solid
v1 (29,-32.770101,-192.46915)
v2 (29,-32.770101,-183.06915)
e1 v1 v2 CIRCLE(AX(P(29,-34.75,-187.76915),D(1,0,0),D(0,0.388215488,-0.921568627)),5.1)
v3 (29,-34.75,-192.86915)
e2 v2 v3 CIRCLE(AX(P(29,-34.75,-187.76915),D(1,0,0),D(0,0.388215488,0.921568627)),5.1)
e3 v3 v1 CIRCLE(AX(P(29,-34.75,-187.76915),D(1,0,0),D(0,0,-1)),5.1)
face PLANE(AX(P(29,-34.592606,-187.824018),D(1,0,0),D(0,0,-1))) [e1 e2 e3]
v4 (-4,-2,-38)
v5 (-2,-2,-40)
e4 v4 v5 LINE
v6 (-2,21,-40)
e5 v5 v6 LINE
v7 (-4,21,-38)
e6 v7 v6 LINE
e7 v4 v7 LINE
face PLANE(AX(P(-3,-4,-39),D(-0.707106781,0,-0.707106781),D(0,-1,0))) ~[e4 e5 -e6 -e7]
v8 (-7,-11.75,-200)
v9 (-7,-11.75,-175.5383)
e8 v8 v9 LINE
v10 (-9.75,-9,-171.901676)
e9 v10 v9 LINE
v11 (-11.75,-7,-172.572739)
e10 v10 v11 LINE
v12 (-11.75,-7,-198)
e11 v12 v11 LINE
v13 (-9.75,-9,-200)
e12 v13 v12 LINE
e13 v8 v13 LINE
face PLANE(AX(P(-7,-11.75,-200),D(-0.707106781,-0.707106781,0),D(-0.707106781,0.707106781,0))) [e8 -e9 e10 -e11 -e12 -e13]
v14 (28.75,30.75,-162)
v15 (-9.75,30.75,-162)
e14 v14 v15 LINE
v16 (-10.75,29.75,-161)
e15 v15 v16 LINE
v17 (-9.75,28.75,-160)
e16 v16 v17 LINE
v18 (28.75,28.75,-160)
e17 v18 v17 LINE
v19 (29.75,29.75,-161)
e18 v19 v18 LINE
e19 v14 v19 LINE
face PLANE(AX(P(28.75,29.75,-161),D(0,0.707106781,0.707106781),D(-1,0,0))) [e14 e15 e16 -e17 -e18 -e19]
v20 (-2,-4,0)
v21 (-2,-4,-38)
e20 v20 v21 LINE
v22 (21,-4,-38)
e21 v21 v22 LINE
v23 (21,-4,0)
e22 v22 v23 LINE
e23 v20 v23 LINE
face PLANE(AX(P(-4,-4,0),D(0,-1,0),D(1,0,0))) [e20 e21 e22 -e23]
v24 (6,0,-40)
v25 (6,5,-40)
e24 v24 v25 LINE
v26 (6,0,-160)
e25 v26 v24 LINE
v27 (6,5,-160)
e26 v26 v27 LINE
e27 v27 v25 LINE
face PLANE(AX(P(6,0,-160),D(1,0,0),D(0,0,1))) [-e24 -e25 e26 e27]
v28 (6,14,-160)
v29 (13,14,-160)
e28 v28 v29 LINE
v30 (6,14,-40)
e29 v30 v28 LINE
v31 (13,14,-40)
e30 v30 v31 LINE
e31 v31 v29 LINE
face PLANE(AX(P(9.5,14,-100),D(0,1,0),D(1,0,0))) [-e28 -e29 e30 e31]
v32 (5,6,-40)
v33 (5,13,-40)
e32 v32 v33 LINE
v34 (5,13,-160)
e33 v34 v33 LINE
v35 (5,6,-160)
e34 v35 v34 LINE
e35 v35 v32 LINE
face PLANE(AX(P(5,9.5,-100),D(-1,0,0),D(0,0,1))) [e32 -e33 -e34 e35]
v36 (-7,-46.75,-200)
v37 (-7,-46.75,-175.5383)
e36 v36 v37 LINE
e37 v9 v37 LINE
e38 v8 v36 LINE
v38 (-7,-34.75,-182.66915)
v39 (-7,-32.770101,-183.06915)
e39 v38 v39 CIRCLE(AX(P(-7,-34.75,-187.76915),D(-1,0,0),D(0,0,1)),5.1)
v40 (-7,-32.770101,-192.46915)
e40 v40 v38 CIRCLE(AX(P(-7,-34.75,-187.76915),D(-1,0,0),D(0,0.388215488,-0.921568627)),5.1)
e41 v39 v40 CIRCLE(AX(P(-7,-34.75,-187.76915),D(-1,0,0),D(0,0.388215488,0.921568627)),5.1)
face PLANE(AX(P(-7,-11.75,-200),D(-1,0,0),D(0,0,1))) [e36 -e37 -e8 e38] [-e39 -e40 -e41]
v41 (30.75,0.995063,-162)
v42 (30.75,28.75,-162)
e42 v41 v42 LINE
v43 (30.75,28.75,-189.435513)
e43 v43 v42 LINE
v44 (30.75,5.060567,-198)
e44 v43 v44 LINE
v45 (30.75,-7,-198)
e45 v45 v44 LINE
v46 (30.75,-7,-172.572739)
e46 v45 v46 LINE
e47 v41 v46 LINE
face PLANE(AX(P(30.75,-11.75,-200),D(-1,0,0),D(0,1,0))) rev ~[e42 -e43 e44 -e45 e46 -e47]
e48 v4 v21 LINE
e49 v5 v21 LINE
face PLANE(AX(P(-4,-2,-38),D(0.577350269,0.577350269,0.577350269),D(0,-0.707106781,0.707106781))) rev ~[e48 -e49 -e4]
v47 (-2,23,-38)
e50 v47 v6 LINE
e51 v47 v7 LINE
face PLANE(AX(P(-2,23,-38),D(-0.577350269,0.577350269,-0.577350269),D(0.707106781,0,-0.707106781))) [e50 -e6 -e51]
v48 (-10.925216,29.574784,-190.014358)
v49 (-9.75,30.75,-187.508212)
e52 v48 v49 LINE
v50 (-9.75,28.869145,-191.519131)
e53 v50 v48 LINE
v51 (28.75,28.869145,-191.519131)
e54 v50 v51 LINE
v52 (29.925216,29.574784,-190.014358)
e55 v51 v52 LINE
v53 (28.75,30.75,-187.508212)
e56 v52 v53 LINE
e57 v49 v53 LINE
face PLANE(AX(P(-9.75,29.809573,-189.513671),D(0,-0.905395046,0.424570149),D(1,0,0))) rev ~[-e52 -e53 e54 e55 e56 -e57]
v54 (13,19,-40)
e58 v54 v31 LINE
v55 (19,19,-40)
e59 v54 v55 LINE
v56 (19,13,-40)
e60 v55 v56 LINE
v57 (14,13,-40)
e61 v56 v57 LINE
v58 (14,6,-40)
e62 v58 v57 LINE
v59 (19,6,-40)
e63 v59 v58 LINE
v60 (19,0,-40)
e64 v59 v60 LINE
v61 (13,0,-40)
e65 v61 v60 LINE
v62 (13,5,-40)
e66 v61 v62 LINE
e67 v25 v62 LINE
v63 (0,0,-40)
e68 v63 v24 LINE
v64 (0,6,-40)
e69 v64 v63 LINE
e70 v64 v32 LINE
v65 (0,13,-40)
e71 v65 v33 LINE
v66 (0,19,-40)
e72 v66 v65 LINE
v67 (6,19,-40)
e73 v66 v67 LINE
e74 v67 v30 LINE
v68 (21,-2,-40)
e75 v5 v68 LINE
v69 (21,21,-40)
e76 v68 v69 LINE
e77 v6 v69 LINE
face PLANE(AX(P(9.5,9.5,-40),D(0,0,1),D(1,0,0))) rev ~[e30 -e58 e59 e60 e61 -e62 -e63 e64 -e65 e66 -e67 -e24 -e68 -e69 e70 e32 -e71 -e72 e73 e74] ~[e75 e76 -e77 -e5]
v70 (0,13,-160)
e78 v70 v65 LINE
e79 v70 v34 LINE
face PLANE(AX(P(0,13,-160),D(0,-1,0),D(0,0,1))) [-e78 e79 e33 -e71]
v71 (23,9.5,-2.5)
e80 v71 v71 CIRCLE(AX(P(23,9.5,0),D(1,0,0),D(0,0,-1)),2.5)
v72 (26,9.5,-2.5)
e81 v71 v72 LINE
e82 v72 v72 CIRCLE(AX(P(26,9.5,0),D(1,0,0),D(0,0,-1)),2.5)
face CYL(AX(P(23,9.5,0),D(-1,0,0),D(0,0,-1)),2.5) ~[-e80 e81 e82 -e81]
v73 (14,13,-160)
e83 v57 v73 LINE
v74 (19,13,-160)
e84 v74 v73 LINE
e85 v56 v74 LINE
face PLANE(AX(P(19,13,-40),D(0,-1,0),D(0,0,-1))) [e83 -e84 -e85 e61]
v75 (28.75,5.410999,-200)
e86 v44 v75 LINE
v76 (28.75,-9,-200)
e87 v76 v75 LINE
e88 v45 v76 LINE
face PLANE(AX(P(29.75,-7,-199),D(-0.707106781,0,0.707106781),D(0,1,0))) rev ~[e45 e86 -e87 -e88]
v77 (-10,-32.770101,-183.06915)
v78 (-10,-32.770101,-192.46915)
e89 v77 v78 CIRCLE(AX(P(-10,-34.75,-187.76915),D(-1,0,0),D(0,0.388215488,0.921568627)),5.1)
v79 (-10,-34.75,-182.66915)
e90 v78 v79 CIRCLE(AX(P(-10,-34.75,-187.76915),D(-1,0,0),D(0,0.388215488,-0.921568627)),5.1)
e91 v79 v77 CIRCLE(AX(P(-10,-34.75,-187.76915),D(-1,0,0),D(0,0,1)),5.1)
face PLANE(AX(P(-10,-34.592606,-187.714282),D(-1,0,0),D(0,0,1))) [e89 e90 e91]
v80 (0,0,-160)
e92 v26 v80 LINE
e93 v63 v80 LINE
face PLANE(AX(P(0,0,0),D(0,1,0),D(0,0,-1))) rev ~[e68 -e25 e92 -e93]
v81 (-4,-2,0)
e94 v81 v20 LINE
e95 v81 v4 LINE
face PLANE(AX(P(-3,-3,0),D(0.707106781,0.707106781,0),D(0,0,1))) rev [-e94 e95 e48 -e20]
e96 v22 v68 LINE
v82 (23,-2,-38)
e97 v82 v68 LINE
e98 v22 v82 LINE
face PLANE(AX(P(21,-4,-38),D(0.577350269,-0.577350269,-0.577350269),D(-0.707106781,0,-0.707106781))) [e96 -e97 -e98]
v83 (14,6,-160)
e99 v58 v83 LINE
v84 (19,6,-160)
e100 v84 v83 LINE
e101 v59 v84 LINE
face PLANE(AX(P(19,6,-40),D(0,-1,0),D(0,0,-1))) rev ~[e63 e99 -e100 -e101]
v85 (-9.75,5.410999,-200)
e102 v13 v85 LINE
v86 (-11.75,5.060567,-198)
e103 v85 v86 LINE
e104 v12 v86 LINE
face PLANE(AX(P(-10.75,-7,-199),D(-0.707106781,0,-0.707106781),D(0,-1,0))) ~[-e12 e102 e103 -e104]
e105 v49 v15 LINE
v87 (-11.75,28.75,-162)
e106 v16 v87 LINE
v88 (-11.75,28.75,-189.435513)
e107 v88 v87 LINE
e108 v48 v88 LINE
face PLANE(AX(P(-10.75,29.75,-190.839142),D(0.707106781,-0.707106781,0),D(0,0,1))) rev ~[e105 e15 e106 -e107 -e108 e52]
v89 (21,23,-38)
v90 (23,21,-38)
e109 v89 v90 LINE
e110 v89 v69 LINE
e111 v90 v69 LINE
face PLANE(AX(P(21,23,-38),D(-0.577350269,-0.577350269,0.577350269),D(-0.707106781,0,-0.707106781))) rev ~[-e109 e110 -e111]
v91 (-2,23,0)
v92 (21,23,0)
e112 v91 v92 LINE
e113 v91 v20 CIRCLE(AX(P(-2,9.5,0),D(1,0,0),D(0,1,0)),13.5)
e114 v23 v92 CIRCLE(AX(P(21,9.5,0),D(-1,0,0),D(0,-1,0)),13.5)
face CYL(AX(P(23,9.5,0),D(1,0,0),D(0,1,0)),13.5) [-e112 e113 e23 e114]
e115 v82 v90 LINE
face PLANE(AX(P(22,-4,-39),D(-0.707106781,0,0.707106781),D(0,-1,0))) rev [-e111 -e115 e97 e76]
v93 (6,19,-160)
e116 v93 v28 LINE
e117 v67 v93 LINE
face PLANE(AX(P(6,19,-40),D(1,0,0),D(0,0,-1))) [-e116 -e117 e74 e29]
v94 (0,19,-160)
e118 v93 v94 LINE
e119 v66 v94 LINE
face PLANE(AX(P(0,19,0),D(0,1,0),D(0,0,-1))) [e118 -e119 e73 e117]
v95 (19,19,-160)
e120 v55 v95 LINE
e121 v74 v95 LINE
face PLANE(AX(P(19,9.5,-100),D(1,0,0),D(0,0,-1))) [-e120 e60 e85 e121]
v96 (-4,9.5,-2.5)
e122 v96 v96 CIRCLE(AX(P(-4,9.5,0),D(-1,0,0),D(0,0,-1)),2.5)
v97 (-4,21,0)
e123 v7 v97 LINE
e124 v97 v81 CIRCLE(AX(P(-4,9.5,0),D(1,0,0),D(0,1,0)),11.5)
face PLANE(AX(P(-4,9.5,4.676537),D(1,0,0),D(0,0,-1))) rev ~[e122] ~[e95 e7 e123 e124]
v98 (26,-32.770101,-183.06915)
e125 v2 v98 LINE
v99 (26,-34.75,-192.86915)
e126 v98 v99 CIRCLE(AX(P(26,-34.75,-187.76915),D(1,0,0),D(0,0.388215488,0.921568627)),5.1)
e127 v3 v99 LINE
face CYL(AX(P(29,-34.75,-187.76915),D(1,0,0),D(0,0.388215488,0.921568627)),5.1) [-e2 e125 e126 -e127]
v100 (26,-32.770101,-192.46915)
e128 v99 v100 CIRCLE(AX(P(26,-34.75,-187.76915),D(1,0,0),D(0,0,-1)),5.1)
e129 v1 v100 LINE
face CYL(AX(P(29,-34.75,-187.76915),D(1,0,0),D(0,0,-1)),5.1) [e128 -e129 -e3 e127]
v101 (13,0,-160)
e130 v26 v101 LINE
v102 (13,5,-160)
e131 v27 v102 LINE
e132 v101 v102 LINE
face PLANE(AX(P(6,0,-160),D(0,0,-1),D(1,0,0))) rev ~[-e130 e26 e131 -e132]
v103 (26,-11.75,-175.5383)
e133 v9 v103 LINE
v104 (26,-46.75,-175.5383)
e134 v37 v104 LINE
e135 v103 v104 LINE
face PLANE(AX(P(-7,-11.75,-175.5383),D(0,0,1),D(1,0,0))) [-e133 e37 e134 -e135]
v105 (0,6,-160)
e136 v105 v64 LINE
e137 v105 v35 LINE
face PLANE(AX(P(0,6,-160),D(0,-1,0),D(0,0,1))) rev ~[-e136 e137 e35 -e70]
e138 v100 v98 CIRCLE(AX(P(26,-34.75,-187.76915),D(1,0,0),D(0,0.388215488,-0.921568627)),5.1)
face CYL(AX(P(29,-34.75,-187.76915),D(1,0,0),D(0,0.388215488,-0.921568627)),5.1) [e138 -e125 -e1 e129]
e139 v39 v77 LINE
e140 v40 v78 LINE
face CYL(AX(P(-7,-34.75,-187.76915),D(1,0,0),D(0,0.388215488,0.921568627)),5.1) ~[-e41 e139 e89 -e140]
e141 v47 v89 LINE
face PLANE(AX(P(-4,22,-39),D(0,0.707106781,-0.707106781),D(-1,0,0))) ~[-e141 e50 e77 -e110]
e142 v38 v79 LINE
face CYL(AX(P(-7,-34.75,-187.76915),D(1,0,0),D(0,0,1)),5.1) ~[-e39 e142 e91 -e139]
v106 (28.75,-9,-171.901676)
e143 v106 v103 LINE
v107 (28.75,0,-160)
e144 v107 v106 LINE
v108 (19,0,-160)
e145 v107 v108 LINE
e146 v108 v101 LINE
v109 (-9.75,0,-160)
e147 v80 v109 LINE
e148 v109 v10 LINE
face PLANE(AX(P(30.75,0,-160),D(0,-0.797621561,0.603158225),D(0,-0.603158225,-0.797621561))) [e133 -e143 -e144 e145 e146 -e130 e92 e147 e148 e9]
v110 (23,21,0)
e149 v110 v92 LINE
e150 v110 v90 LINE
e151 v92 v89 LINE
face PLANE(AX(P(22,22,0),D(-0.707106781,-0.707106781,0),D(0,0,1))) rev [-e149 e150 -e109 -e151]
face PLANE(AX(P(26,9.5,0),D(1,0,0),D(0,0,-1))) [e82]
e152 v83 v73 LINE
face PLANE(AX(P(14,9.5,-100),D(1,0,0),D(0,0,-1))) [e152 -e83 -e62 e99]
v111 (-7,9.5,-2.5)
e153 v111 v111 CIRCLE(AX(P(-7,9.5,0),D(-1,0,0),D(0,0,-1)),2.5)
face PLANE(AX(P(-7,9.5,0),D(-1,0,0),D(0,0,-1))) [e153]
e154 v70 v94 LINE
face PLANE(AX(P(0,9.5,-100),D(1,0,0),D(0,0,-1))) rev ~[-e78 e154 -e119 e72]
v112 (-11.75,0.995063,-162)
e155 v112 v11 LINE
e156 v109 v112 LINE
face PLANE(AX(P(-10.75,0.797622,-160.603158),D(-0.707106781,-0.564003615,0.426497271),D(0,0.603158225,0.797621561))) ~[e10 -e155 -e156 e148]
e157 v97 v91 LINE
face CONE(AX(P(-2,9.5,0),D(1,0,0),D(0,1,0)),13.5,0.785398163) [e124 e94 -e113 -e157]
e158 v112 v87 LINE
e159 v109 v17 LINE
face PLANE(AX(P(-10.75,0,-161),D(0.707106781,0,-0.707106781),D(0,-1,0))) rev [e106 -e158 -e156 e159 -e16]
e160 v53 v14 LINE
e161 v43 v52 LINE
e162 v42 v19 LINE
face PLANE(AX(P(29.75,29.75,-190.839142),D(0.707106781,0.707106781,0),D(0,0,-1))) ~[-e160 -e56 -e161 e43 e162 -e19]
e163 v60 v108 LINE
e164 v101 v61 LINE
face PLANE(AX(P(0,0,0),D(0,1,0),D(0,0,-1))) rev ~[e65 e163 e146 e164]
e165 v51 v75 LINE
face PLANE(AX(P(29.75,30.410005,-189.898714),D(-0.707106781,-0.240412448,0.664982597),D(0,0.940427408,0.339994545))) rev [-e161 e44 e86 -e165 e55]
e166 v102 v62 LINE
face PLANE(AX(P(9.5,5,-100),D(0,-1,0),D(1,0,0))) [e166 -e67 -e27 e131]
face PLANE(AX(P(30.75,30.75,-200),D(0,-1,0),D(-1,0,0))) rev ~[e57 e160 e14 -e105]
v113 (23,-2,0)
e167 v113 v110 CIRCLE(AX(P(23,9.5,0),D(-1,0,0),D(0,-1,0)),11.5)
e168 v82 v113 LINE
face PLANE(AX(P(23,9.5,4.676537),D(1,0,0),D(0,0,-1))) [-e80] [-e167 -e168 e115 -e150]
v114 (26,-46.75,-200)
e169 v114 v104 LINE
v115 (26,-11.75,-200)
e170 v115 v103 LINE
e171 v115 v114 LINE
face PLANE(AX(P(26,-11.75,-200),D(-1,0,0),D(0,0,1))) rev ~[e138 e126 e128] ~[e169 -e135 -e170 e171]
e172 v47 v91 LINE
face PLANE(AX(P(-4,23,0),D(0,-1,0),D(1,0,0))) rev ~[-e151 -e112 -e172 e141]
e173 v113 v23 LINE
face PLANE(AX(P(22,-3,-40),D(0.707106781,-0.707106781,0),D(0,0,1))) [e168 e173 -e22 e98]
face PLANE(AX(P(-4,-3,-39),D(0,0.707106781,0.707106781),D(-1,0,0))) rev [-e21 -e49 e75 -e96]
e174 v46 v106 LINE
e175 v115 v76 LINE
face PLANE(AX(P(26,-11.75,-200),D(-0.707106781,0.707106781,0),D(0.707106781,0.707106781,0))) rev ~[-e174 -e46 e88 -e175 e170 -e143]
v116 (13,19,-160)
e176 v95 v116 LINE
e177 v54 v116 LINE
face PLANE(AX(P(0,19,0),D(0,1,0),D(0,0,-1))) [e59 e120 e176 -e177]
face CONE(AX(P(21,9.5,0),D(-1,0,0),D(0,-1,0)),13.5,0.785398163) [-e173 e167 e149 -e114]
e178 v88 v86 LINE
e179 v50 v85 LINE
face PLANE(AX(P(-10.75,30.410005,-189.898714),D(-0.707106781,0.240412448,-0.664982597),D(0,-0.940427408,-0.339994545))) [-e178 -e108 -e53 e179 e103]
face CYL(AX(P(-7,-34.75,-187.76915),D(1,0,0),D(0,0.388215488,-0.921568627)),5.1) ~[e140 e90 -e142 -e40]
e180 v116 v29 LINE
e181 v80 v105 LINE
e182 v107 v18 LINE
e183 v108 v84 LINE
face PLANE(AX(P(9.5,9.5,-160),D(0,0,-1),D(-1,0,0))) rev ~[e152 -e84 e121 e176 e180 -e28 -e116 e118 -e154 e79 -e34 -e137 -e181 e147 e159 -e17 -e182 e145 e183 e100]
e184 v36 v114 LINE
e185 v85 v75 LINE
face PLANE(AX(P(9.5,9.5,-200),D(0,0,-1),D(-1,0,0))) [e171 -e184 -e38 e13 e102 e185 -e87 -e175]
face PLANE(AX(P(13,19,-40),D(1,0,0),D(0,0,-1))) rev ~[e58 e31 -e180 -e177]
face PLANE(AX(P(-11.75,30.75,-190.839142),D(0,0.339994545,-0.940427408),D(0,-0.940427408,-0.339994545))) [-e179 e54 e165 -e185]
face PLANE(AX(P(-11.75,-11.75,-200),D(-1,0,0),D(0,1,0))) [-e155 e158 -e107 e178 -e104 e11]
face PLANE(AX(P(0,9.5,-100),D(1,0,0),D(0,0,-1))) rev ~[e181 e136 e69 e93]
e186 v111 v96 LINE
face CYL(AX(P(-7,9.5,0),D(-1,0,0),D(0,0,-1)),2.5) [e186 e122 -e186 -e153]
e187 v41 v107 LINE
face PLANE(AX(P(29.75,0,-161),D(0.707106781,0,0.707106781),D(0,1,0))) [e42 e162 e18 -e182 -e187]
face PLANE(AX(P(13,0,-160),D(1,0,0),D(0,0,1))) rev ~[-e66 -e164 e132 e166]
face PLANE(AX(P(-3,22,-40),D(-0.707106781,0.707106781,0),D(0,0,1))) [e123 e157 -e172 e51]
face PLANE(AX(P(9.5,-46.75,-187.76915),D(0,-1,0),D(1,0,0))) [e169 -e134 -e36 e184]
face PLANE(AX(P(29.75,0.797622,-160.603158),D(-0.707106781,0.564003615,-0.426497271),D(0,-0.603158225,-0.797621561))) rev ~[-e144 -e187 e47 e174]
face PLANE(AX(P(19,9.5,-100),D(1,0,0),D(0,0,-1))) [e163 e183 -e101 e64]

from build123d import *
from OCP.BRepFilletAPI import BRepFilletAPI_MakeChamfer

# Parameters (mm, degrees)
SKETCH_1_W          = 200
SKETCH_1_H          = 19
EXTRUDE_1_DEPTH     = 19
SKETCH_6_W          = 27
SKETCH_6_H          = 27
EXTRUDE_6_DEPTH     = 40
EXTRUDE_7_DEPTH     = 27
SKETCH_8_W          = 42.5
SKETCH_8_H          = 42.5
EXTRUDE_8_DEPTH     = 40
SKETCH_9_R          = 2.5
EXTRUDE_9_DEPTH     = 3
EXTRUDE_START       = 3
SKETCH_10_R         = 2.5
EXTRUDE_10_DEPTH    = 3
SKETCH_11_W         = 33
SKETCH_11_H         = 24.461700173
EXTRUDE_11_DEPTH    = 35
CUT_EXTRUDE_1_REACH = 211.742
CUT_EXTRUDE_2_DEPTH = 42.5
CUT_EXTRUDE_3_REACH = 222.711
SKETCH_15_W         = 120
SKETCH_15_H         = 7
CUT_EXTRUDE_4_DEPTH = 5
SKETCH_16_W         = 120
SKETCH_16_H         = 7
CUT_EXTRUDE_5_DEPTH = 5
SKETCH_17_W         = 7
SKETCH_17_H         = 120
CUT_EXTRUDE_6_DEPTH = 5
SKETCH_18_W         = 7
SKETCH_18_H         = 120
CUT_EXTRUDE_7_DEPTH = 5
CHAMFER_1_SIZE      = 2
CHAMFER_2_SIZE      = 2
CHAMFER_3_SIZE      = 2
CHAMFER_3_SIZE2     = 3.330930275
CHAMFER_4_SIZE      = 2
BOSS_EXTRUDE1_DEPTH = 3
BOSS_EXTRUDE2_START = 3
BOSS_EXTRUDE2_DEPTH = 3


with BuildPart() as part:
    # 草图1 → 凸台-拉伸1 (new body)
    with BuildSketch(Plane(origin=(0, 0, 0), x_dir=(0, 0, -1), z_dir=(1, 0, 0))):
        with Locations((100, 9.5)):
            Rectangle(SKETCH_1_W, SKETCH_1_H)
    extrude(amount=EXTRUDE_1_DEPTH)

    # 草图6 → 凸台-拉伸6 (add)
    with BuildSketch(Plane.XY):
        with Locations((9.5, 9.5)):
            Rectangle(SKETCH_6_W, SKETCH_6_H)
    extrude(amount=-EXTRUDE_6_DEPTH)

    # 草图7 → 凸台-拉伸7 (add)
    with BuildSketch(Plane(origin=(23, 0, 0), x_dir=(0, 0, -1), z_dir=(1, 0, 0))):
        with BuildLine():
            Line((0, -4), (0, 23))
            ThreePointArc((0, 23), (-13.5, 9.5), (0, -4))
        make_face()
    extrude(amount=-EXTRUDE_7_DEPTH)

    # 草图8 → 凸台-拉伸8 (add)
    with BuildSketch(Plane(origin=(0, 0, -200), x_dir=(-1, 0, 0), z_dir=(0, 0, -1))):
        with Locations((-9.5, 9.5)):
            Rectangle(SKETCH_8_W, SKETCH_8_H)
    extrude(amount=-EXTRUDE_8_DEPTH)

    # 草图9 → 凸台-拉伸9 (add)
    with BuildSketch(Plane(origin=(23, 0, 0), x_dir=(0, 0, -1), z_dir=(1, 0, 0))):
        with Locations((0, 9.5)):
            Circle(SKETCH_9_R)
    extrude(amount=EXTRUDE_9_DEPTH)

    # 草图10 → 凸台-拉伸10 (add)
    with BuildSketch(Plane.ZY.offset(4).offset(EXTRUDE_START)):
        with Locations(Location((0, 9.5, 0), (0, 0, 180))):
            Circle(SKETCH_10_R)
    extrude(amount=-EXTRUDE_10_DEPTH)

    # 草图11 → 凸台-拉伸11 (add)
    with BuildSketch(Plane.XZ.offset(11.75)):
        with Locations((9.5, -187.769149914)):
            Rectangle(SKETCH_11_W, SKETCH_11_H)
    extrude(amount=EXTRUDE_11_DEPTH)

    # 切除-拉伸1: up to this face of the body (flat: up to its plane)
    cut_extrude_1_end = Plane(part.part.faces().sort_by_distance((-11.75, 9.5, -180))[0])
    # 草图12 → 切除-拉伸1 (cut, up to the picked face)
    with BuildSketch(Plane(origin=(30.75, 0, 0), x_dir=(0, 0, -1), z_dir=(1, 0, 0)), mode=Mode.PRIVATE) as cut_extrude_1_sk1:
        Polygon((160, 0), (175.538299827, -11.75), (160, -11.75), align=None)
    cut_extrude_1_tool1 = split(extrude(cut_extrude_1_sk1.sketch, amount=-CUT_EXTRUDE_1_REACH, mode=Mode.PRIVATE), bisect_by=cut_extrude_1_end, keep=Keep.BOTH, mode=Mode.PRIVATE)
    add(cut_extrude_1_tool1.solids().sort_by(Axis((30.75, -7.833333, -165.179433), (-1, 0, 0)))[0], mode=Mode.SUBTRACT)

    # 草图13 → 切除-拉伸2 (cut)
    with BuildSketch(Plane.ZY.offset(11.75)):
        Polygon((-190.839141878, 30.75), (-200, 5.410999189), (-200, 30.75), align=None)
    extrude(amount=-CUT_EXTRUDE_2_DEPTH, mode=Mode.SUBTRACT)

    # 切除-拉伸3: up to this plane
    cut_extrude_3_end = Plane(origin=(-31.230792117, 0, -160), z_dir=(0, 0.7976215614630531, -0.603158225252082))
    # 草图14 → 切除-拉伸3 (cut, up to the surface)
    with BuildSketch(Plane(origin=(0, 0, -200), x_dir=(-1, 0, 0), z_dir=(0, 0, -1)), mode=Mode.PRIVATE) as cut_extrude_3_sk1:
        Polygon((-26, -11.75), (-30.75, -7), (-30.75, -11.75), align=None)
    cut_extrude_3_tool1 = split(extrude(cut_extrude_3_sk1.sketch, amount=-CUT_EXTRUDE_3_REACH, mode=Mode.PRIVATE), bisect_by=cut_extrude_3_end, keep=Keep.BOTH, mode=Mode.PRIVATE)
    add(cut_extrude_3_tool1.solids().sort_by_distance((29.166667, -10.166667, -200))[0], mode=Mode.SUBTRACT)
    # 草图14 → 切除-拉伸3 (cut, up to the surface)
    with BuildSketch(Plane(origin=(0, 0, -200), x_dir=(-1, 0, 0), z_dir=(0, 0, -1)), mode=Mode.PRIVATE) as cut_extrude_3_sk2:
        Polygon((7, -11.75), (11.75, -7), (11.75, -11.75), align=None)
    cut_extrude_3_tool2 = split(extrude(cut_extrude_3_sk2.sketch, amount=-CUT_EXTRUDE_3_REACH, mode=Mode.PRIVATE), bisect_by=cut_extrude_3_end, keep=Keep.BOTH, mode=Mode.PRIVATE)
    add(cut_extrude_3_tool2.solids().sort_by_distance((-10.166667, -10.166667, -200))[0], mode=Mode.SUBTRACT)

    # 草图15 → 切除-拉伸4 (cut)
    with BuildSketch(Plane.ZY):
        with Locations((-100, 9.5)):
            Rectangle(SKETCH_15_W, SKETCH_15_H)
    extrude(amount=-CUT_EXTRUDE_4_DEPTH, mode=Mode.SUBTRACT)

    # 草图16 → 切除-拉伸5 (cut)
    with BuildSketch(Plane(origin=(19, 0, 0), x_dir=(0, 0, -1), z_dir=(1, 0, 0))):
        with Locations((100, 9.5)):
            Rectangle(SKETCH_16_W, SKETCH_16_H)
    extrude(amount=-CUT_EXTRUDE_5_DEPTH, mode=Mode.SUBTRACT)

    # 草图17 → 切除-拉伸6 (cut)
    with BuildSketch(Plane.XZ):
        with Locations((9.5, -100)):
            Rectangle(SKETCH_17_W, SKETCH_17_H)
    extrude(amount=-CUT_EXTRUDE_6_DEPTH, mode=Mode.SUBTRACT)

    # 草图18 → 切除-拉伸7 (cut)
    with BuildSketch(Plane(origin=(0, 19, 0), x_dir=(1, 0, 0), z_dir=(0, 1, 0))):
        with Locations((9.5, 100)):
            Rectangle(SKETCH_18_W, SKETCH_18_H)
    extrude(amount=-CUT_EXTRUDE_7_DEPTH, mode=Mode.SUBTRACT)

    # 倒角1
    chamfer_1_edges = [part.edges().sort_by_distance(p)[0] for p in [
        (30.75, 18.080499595, -195.419570939),
        (30.75, -3.5, -164.628429736),
        (30.75, 15.375, -160),
        (30.75, 30.75, -175.419570939),
        (30.75, -0.794500405, -200),
    ]]
    chamfer(chamfer_1_edges, length=CHAMFER_1_SIZE)

    # 倒角2
    chamfer_2_edges = [part.edges().sort_by_distance(p)[0] for p in [
        (-11.75, -3.5, -164.628429736),
        (-11.75, -0.794500405, -200),
        (-11.75, 30.75, -175.419570939),
        (-11.75, 15.375, -160),
        (-11.75, 18.080499595, -195.419570939),
    ]]
    chamfer(chamfer_2_edges, length=CHAMFER_2_SIZE)

    # 倒角3: one chamfer whose edges measure the first distance from different faces: ONE call of the kernel's chamfer builder (chamfer() names one face for all edges)
    chamfer_3_edges_1 = [part.edges().sort_by_distance(p)[0] for p in [
        (9.5, 30.75, -190.839141878),
    ]]
    chamfer_3_side_1 = [part.faces().sort_by_distance(p)[0] for p in [
        (9.5, 18.080499595, -195.419570939),
    ]]
    chamfer_3_edges_2 = [part.edges().sort_by_distance(p)[0] for p in [
        (9.5, 30.75, -160),
    ]]
    chamfer_3 = BRepFilletAPI_MakeChamfer(part.part.solid().wrapped)
    for e in chamfer_3_edges_1:
        chamfer_3.Add(CHAMFER_3_SIZE, CHAMFER_3_SIZE2, e.wrapped, chamfer_3_side_1[0].wrapped)  # the first distance lies on this face
    for e in chamfer_3_edges_2:
        chamfer_3.Add(CHAMFER_3_SIZE, e.wrapped)
    add(Compound.cast(chamfer_3.Shape()), mode=Mode.REPLACE)

    # 倒角4
    chamfer_4_edges = [part.edges().sort_by_distance(p)[0] for p in [
        (23, 9.5, -40),
        (23, 23, -20),
        (9.5, -4, -40),
        (23, -4, -20),
        (-4, 9.5, -40),
        (-4, -4, -20),
        (9.5, 23, -40),
        (-4, 23, -20),
        (23, 9.5, 13.5),
        (-4, 9.5, 13.5),
    ]]
    chamfer(chamfer_4_edges, length=CHAMFER_4_SIZE)

    # Sketch2 → Boss-Extrude1 (add)
    with BuildSketch(Plane.ZY.offset(7)):
        with BuildLine():
            ThreePointArc((-182.669149914, -34.75), (-182.770150014, -33.740049506), (-183.069149914, -32.770101013))
            ThreePointArc((-183.069149914, -32.770101013), (-187.769149914, -29.65), (-192.469149914, -32.770101013))
            ThreePointArc((-192.469149914, -32.770101013), (-188.779100407, -39.7489999), (-182.669149914, -34.75))
        make_face()
    extrude(amount=BOSS_EXTRUDE1_DEPTH)

    # Sketch3 → Boss-Extrude2 (add)
    with BuildSketch(Plane(origin=(26, 0, 0), x_dir=(0, 0, -1), z_dir=(1, 0, 0)).offset(BOSS_EXTRUDE2_START)):
        with BuildLine():
            ThreePointArc((192.869149914, -34.75), (192.768149814, -33.740049506), (192.469149914, -32.770101013))
            ThreePointArc((192.469149914, -32.770101013), (187.769149914, -29.65), (183.069149914, -32.770101013))
            ThreePointArc((183.069149914, -32.770101013), (186.75919942, -39.7489999), (192.869149914, -34.75))
        make_face()
    extrude(amount=-BOSS_EXTRUDE2_DEPTH)


solid = part.part
